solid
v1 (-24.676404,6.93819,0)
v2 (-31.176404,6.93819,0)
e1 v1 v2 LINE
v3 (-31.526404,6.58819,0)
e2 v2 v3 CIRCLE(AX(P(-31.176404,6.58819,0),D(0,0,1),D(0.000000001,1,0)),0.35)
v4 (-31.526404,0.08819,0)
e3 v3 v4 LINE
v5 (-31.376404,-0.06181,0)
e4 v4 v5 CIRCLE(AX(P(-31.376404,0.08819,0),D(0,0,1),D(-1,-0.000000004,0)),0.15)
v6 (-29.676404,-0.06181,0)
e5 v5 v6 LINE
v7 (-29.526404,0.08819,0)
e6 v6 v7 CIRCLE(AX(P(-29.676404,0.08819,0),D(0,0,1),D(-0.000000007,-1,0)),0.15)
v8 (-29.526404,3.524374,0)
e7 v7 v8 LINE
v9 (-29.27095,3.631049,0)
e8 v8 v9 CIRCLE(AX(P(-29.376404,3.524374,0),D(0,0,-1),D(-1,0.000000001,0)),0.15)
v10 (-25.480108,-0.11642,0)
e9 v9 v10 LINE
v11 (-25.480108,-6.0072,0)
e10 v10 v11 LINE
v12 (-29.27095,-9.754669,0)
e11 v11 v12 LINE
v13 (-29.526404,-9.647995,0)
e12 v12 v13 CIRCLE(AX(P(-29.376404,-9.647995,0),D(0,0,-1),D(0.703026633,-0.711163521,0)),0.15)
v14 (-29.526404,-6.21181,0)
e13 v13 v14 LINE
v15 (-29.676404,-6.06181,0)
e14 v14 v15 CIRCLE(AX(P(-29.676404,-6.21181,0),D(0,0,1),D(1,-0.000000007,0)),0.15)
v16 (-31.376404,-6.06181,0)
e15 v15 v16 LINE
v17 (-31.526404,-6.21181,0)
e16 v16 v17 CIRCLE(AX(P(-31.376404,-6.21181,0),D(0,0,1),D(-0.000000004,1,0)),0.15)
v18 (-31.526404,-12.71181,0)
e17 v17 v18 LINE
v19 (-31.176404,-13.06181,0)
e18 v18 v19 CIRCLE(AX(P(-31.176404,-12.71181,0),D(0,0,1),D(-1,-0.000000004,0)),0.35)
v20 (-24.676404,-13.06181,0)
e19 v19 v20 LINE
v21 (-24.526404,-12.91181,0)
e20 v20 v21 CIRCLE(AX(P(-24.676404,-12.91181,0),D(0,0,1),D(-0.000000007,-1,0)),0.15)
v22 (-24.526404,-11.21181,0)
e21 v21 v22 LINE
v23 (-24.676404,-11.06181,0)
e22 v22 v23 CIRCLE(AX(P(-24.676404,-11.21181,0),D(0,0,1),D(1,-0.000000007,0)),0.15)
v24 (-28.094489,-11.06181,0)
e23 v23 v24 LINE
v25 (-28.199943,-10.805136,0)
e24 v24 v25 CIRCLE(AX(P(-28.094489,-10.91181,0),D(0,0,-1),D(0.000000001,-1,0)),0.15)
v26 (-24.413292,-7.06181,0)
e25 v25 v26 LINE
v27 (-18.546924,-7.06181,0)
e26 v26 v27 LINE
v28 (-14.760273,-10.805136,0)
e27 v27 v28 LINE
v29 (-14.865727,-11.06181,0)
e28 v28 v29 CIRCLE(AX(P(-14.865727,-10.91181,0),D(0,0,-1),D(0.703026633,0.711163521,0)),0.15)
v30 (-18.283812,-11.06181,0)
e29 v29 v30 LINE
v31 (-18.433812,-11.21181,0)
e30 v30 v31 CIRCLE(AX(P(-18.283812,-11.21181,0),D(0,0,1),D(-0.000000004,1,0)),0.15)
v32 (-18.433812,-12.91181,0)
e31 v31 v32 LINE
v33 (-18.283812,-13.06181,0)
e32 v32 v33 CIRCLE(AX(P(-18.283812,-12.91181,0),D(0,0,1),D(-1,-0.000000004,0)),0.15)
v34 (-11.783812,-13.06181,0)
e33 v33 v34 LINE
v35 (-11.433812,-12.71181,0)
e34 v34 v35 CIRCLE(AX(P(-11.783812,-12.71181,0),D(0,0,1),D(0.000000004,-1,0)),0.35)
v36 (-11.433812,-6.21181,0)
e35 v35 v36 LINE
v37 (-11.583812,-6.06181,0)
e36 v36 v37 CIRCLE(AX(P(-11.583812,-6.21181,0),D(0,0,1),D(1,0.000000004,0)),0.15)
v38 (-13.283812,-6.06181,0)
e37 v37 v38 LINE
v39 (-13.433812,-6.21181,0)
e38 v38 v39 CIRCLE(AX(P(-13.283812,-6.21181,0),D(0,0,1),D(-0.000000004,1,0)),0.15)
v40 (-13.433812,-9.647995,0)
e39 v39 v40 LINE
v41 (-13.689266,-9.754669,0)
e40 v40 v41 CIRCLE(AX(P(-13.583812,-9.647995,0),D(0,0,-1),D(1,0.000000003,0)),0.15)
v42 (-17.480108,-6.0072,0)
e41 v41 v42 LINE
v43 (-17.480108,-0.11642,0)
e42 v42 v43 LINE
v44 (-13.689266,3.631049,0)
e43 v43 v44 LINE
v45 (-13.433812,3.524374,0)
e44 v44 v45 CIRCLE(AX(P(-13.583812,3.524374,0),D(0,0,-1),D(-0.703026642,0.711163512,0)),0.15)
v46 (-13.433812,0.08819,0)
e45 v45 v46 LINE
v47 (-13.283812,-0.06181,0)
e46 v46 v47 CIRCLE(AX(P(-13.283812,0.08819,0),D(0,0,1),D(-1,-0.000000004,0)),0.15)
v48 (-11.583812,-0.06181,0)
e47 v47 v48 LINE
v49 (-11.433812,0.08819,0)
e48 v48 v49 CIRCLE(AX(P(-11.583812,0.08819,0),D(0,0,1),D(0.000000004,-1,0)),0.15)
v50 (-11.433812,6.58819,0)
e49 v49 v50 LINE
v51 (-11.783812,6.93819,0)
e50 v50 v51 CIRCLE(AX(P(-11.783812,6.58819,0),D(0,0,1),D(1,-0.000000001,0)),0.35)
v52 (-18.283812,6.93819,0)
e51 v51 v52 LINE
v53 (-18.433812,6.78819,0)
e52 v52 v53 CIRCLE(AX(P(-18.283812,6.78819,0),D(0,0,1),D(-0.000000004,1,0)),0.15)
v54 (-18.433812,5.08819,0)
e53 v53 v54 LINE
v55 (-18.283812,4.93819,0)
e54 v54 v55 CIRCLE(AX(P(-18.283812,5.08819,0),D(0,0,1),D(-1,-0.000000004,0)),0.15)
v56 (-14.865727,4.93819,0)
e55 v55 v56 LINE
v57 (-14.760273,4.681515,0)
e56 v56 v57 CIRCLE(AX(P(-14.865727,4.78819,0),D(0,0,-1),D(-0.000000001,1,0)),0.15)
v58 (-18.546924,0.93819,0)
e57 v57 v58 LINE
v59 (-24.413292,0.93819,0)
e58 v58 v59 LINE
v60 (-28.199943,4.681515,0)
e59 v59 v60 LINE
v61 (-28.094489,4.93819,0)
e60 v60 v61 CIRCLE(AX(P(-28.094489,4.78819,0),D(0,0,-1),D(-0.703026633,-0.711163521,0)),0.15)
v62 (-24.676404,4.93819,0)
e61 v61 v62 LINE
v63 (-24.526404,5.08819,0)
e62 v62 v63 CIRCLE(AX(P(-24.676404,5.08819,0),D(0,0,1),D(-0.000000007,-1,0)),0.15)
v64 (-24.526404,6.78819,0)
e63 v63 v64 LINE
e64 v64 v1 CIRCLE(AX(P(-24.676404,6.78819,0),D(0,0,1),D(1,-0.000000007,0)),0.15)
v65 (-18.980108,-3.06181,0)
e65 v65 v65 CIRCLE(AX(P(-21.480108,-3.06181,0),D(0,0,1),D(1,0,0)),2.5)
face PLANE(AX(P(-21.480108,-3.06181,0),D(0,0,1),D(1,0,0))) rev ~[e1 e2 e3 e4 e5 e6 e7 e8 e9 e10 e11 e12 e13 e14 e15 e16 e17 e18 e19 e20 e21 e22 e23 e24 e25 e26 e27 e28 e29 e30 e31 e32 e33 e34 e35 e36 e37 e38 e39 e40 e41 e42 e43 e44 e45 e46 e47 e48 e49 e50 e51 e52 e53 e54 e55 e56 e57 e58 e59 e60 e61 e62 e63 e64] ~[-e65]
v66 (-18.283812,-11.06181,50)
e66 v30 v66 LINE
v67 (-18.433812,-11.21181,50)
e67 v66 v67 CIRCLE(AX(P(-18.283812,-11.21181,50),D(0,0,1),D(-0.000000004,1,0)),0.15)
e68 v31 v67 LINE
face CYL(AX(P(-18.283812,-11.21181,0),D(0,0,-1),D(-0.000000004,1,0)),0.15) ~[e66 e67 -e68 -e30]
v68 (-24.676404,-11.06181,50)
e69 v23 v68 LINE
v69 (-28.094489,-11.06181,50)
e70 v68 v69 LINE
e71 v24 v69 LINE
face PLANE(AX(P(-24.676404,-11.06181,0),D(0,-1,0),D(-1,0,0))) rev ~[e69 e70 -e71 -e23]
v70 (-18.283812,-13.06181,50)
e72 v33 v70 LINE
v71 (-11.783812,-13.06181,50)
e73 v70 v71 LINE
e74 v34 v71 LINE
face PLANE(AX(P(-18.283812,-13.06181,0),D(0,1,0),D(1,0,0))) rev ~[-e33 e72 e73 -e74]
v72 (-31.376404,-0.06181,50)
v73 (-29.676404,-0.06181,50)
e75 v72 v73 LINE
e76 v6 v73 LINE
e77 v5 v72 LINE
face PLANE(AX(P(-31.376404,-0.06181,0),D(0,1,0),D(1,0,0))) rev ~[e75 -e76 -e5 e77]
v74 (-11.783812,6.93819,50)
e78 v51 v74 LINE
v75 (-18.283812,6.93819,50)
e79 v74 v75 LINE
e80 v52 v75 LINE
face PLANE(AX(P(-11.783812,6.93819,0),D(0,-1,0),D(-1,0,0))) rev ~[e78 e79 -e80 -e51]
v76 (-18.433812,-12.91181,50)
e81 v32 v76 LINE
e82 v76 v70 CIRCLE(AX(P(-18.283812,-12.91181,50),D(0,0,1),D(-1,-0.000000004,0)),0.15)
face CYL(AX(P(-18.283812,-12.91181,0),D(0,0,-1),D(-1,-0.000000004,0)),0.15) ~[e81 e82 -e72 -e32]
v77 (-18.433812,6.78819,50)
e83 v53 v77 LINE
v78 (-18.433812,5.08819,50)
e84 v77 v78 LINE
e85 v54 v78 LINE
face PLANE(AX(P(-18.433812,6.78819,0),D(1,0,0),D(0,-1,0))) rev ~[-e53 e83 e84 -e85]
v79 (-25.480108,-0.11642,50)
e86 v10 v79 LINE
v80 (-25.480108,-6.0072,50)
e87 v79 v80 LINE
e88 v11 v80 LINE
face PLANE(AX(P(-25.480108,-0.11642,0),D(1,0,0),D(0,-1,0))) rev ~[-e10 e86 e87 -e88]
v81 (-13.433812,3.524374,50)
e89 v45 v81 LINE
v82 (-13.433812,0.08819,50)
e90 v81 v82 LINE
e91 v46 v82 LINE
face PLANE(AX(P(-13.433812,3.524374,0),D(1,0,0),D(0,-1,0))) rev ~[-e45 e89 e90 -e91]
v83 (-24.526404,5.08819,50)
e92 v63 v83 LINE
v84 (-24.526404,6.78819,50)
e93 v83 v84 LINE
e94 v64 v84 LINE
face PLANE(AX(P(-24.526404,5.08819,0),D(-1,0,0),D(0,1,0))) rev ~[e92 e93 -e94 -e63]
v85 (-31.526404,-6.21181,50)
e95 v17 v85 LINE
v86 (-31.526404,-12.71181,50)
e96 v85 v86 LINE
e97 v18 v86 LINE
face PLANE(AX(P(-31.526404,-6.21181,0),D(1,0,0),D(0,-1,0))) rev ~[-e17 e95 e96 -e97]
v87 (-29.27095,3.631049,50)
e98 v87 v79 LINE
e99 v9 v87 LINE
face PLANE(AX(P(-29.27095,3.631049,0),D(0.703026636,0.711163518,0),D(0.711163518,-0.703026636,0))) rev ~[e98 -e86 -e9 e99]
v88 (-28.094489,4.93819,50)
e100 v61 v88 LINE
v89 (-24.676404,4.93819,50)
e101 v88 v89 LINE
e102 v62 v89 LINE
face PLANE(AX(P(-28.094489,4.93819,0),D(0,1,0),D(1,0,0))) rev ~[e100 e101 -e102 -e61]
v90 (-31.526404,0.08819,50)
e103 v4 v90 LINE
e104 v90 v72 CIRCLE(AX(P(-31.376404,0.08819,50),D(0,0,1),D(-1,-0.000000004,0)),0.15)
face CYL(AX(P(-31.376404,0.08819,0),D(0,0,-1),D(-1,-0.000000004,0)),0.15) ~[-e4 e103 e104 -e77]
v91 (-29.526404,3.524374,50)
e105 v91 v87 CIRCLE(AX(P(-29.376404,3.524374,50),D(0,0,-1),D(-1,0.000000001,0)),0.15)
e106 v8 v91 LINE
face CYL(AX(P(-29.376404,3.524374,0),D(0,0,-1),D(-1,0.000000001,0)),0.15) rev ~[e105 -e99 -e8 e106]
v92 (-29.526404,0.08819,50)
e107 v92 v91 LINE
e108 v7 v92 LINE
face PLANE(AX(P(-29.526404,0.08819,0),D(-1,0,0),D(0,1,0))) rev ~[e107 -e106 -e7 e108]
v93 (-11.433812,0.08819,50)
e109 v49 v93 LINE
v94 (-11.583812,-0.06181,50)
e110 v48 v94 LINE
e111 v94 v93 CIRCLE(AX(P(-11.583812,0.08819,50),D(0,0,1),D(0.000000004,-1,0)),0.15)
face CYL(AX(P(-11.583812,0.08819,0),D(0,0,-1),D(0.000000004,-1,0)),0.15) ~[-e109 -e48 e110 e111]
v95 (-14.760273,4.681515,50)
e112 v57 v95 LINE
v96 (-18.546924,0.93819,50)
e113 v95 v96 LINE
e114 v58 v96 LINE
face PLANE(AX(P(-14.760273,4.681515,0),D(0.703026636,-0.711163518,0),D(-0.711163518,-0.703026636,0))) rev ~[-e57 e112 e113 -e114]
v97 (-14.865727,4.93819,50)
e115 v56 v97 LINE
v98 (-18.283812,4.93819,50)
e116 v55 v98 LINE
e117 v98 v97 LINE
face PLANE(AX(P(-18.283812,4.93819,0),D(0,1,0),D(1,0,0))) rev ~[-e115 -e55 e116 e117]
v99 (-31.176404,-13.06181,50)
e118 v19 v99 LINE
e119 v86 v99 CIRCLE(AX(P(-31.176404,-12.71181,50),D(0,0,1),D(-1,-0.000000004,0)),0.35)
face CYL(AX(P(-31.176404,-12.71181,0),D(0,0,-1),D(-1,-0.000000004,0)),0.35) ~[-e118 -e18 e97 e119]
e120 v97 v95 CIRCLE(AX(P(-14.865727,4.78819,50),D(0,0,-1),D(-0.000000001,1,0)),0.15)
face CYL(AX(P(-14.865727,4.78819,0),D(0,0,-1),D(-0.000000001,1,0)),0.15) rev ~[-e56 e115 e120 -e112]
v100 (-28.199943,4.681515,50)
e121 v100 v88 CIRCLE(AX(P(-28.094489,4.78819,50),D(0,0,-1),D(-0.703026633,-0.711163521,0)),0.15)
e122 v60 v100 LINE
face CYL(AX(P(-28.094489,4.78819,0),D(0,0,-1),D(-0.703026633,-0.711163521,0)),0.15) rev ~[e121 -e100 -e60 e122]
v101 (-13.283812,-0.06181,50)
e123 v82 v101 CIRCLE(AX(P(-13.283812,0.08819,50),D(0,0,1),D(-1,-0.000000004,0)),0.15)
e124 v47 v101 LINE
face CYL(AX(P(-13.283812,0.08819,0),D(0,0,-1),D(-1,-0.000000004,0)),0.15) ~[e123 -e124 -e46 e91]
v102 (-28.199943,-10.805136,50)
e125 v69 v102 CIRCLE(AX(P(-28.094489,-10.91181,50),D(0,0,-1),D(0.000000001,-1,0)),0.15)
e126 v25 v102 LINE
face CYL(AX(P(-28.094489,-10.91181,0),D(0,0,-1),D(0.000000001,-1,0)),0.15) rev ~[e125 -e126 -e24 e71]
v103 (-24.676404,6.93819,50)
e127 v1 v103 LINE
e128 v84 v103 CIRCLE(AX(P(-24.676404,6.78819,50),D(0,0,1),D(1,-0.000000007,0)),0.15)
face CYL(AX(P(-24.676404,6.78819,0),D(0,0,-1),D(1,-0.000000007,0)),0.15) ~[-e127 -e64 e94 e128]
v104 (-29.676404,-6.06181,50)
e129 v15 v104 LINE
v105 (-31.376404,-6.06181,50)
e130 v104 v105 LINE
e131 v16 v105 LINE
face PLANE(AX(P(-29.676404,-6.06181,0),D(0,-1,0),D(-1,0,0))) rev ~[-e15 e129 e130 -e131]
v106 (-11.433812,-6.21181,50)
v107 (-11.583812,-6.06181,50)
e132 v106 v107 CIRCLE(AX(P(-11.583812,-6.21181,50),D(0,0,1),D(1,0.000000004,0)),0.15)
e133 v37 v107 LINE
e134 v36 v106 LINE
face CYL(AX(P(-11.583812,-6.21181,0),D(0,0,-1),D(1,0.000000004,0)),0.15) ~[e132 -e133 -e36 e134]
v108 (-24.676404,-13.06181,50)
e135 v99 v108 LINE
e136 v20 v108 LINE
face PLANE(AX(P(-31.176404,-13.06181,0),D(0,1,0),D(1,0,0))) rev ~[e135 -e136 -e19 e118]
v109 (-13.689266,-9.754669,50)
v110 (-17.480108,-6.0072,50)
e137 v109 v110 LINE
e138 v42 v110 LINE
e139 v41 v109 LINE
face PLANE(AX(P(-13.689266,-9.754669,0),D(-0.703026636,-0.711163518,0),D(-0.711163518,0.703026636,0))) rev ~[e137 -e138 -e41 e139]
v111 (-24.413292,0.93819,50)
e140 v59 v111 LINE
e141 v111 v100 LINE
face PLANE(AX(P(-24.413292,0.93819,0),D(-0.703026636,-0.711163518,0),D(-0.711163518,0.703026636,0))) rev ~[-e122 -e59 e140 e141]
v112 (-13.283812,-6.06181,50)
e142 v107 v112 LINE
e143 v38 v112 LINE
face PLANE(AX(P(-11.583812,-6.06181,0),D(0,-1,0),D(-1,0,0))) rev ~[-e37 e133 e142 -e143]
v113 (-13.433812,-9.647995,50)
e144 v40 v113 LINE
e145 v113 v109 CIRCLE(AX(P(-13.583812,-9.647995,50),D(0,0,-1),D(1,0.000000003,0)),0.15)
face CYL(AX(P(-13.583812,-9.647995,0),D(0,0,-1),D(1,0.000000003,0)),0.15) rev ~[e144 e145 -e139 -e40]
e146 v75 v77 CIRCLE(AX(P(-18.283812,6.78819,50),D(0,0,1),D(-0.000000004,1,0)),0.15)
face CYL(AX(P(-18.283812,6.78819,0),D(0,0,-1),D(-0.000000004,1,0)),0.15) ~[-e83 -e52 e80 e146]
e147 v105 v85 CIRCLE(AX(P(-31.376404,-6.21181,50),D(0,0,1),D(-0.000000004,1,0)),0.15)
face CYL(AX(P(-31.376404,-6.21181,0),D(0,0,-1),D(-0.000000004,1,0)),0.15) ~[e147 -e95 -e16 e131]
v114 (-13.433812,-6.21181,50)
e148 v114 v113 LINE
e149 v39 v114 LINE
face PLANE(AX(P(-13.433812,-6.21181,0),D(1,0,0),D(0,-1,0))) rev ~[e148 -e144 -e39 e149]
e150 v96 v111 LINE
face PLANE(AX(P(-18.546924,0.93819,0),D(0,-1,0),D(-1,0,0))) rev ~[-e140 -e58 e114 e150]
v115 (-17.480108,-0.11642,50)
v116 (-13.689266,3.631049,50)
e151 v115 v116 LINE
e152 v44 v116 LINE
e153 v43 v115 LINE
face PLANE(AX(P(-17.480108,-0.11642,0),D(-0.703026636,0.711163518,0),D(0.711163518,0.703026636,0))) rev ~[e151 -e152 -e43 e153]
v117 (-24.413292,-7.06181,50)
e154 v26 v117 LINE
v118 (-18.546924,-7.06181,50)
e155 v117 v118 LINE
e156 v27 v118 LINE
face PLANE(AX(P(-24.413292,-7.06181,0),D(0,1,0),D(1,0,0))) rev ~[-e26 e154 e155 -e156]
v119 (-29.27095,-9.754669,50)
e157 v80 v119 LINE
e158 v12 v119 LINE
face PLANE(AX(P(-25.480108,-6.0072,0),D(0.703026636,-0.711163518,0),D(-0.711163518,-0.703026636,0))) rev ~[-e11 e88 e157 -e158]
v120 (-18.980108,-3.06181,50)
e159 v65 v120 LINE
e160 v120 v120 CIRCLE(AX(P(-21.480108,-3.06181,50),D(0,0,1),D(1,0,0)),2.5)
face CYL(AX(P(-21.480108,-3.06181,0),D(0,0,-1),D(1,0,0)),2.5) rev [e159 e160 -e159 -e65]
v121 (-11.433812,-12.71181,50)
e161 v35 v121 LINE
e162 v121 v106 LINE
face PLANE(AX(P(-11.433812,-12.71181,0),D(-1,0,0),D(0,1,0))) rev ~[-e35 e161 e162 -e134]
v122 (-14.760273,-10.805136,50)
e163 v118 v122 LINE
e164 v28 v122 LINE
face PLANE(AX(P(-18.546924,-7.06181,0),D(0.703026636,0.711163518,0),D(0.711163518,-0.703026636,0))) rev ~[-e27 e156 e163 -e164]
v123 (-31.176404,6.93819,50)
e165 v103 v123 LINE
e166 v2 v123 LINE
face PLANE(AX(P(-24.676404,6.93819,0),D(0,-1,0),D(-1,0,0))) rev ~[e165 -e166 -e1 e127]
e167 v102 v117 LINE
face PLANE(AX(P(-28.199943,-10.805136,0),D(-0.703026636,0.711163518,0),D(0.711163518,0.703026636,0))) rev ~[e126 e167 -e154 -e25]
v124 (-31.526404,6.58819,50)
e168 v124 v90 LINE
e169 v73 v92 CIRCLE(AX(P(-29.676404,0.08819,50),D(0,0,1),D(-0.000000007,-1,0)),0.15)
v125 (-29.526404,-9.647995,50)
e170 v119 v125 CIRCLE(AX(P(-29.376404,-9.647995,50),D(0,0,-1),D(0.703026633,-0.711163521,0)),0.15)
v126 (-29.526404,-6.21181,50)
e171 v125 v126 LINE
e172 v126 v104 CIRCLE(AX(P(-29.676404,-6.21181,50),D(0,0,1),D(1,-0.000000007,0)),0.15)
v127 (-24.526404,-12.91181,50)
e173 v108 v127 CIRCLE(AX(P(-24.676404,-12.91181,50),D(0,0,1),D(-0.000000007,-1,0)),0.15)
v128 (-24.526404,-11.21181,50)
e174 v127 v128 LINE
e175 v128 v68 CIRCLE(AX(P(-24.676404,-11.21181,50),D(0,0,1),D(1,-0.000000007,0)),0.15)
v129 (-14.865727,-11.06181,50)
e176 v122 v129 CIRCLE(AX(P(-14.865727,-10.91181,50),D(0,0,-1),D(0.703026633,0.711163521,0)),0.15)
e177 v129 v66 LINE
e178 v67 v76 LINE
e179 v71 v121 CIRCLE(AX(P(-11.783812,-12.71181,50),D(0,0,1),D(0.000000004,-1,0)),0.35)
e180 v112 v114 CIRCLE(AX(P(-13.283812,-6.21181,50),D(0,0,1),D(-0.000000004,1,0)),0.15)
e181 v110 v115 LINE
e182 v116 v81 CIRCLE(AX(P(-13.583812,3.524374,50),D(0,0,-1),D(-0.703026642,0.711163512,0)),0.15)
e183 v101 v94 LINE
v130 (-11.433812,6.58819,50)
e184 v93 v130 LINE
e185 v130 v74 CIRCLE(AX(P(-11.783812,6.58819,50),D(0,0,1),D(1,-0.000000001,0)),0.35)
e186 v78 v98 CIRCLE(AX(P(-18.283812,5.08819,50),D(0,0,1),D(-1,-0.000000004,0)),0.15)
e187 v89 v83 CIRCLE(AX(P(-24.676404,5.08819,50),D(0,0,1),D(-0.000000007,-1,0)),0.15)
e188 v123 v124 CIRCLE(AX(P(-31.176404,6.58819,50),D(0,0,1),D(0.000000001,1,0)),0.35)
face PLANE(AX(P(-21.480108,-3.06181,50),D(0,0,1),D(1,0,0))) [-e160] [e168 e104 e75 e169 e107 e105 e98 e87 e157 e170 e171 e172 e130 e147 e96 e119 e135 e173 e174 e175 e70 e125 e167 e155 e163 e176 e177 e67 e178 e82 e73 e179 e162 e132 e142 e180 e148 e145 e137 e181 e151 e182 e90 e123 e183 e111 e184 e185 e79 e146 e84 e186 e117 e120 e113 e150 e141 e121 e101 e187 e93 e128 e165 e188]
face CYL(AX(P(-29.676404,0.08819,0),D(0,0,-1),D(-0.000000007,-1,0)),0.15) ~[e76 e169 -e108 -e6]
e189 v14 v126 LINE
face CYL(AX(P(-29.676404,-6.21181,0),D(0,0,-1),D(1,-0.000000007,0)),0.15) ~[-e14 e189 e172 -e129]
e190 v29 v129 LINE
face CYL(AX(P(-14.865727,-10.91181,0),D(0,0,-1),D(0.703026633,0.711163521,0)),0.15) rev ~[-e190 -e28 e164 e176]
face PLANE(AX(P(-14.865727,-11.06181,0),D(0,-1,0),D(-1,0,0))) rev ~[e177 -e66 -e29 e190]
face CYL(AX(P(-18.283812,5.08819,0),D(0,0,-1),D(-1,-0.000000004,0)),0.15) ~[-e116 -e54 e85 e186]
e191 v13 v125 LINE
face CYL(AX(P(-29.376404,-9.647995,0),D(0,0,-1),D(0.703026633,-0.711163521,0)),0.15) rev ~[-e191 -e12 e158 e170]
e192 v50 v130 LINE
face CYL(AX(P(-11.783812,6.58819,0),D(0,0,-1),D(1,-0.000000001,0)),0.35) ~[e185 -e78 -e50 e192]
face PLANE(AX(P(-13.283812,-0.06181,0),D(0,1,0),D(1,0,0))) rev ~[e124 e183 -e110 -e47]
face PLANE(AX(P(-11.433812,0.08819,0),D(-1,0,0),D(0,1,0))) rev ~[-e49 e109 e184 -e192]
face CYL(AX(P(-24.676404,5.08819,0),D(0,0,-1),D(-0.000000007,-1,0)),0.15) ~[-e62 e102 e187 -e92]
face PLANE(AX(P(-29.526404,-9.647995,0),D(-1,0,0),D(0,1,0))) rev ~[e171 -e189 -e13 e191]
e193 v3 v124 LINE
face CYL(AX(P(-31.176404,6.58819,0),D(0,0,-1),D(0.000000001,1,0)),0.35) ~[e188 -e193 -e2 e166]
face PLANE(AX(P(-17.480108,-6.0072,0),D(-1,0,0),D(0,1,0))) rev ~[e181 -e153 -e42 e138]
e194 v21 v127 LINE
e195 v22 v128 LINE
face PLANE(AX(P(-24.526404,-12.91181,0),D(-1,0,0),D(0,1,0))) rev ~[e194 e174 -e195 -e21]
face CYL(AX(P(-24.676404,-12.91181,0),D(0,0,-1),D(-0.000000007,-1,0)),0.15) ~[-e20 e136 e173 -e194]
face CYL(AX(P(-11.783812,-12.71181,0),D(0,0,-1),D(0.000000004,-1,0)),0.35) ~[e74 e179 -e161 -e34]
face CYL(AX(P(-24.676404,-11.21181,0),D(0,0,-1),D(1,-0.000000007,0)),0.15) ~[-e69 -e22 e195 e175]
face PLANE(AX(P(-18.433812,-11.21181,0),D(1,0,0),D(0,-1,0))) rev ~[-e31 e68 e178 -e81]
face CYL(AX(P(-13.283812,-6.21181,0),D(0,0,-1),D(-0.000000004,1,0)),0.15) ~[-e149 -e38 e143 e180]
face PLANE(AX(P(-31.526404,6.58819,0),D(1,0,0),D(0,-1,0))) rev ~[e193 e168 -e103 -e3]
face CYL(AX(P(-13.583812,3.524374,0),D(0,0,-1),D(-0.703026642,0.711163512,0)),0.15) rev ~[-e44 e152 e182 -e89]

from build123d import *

# Parameters (mm, degrees)
SKETCH1_R           = 2.5
BOSS_EXTRUDE1_DEPTH = 50


with BuildPart() as part:
    # Sketch1 → Boss-Extrude1 (new body)
    with BuildSketch(Plane.XY):
        with BuildLine():
            Line((-31.376404226, -0.06181021), (-29.676404226, -0.06181021))
            ThreePointArc((-29.676404226, -0.06181021), (-29.570338208, -0.017876227), (-29.526404226, 0.08818979))
            Line((-29.526404226, 0.08818979), (-29.526404226, 3.524374304))
            ThreePointArc((-29.526404226, 3.524374304), (-29.43420518, 3.662790523), (-29.27095023, 3.631048831))
            Line((-29.27095023, 3.631048831), (-25.480107929, -0.116419988))
            Line((-25.480107929, -0.116419988), (-25.480107929, -6.007200432))
            Line((-25.480107929, -6.007200432), (-29.27095023, -9.754669251))
            ThreePointArc((-29.27095023, -9.754669251), (-29.43420518, -9.786410942), (-29.526404226, -9.647994723))
            Line((-29.526404226, -9.647994723), (-29.526404226, -6.21181021))
            ThreePointArc((-29.526404226, -6.21181021), (-29.570338208, -6.105744193), (-29.676404226, -6.06181021))
            Line((-29.676404226, -6.06181021), (-31.376404226, -6.06181021))
            ThreePointArc((-31.376404226, -6.06181021), (-31.482470243, -6.105744193), (-31.526404226, -6.21181021))
            Line((-31.526404226, -6.21181021), (-31.526404226, -12.71181021))
            ThreePointArc((-31.526404226, -12.71181021), (-31.423891599, -12.959297583), (-31.176404226, -13.06181021))
            Line((-31.176404226, -13.06181021), (-24.676404226, -13.06181021))
            ThreePointArc((-24.676404226, -13.06181021), (-24.570338208, -13.017876227), (-24.526404226, -12.91181021))
            Line((-24.526404226, -12.91181021), (-24.526404226, -11.21181021))
            ThreePointArc((-24.526404226, -11.21181021), (-24.570338208, -11.105744193), (-24.676404226, -11.06181021))
            Line((-24.676404226, -11.06181021), (-28.094489023, -11.06181021))
            ThreePointArc((-28.094489023, -11.06181021), (-28.233235517, -10.96881381), (-28.199943018, -10.805135682))
            Line((-28.199943018, -10.805135682), (-24.41329202, -7.06181021))
            Line((-24.41329202, -7.06181021), (-18.546923839, -7.06181021))
            Line((-18.546923839, -7.06181021), (-14.760272841, -10.805135682))
            ThreePointArc((-14.760272841, -10.805135682), (-14.726980342, -10.96881381), (-14.865726836, -11.06181021))
            Line((-14.865726836, -11.06181021), (-18.283811633, -11.06181021))
            ThreePointArc((-18.283811633, -11.06181021), (-18.38987765, -11.105744193), (-18.433811633, -11.21181021))
            Line((-18.433811633, -11.21181021), (-18.433811633, -12.91181021))
            ThreePointArc((-18.433811633, -12.91181021), (-18.38987765, -13.017876227), (-18.283811633, -13.06181021))
            Line((-18.283811633, -13.06181021), (-11.783811633, -13.06181021))
            ThreePointArc((-11.783811633, -13.06181021), (-11.53632426, -12.959297583), (-11.433811633, -12.71181021))
            Line((-11.433811633, -12.71181021), (-11.433811633, -6.21181021))
            ThreePointArc((-11.433811633, -6.21181021), (-11.477745616, -6.105744193), (-11.583811633, -6.06181021))
            Line((-11.583811633, -6.06181021), (-13.283811633, -6.06181021))
            ThreePointArc((-13.283811633, -6.06181021), (-13.38987765, -6.105744193), (-13.433811633, -6.21181021))
            Line((-13.433811633, -6.21181021), (-13.433811633, -9.647994723))
            ThreePointArc((-13.433811633, -9.647994723), (-13.526010678, -9.786410942), (-13.689265628, -9.754669251))
            Line((-13.689265628, -9.754669251), (-17.480107929, -6.007200432))
            Line((-17.480107929, -6.007200432), (-17.480107929, -0.116419988))
            Line((-17.480107929, -0.116419988), (-13.689265628, 3.631048831))
            ThreePointArc((-13.689265628, 3.631048831), (-13.526010678, 3.662790523), (-13.433811633, 3.524374304))
            Line((-13.433811633, 3.524374304), (-13.433811633, 0.08818979))
            ThreePointArc((-13.433811633, 0.08818979), (-13.38987765, -0.017876227), (-13.283811633, -0.06181021))
            Line((-13.283811633, -0.06181021), (-11.583811633, -0.06181021))
            ThreePointArc((-11.583811633, -0.06181021), (-11.477745616, -0.017876227), (-11.433811633, 0.08818979))
            Line((-11.433811633, 0.08818979), (-11.433811633, 6.58818979))
            ThreePointArc((-11.433811633, 6.58818979), (-11.53632426, 6.835677164), (-11.783811633, 6.93818979))
            Line((-11.783811633, 6.93818979), (-18.283811633, 6.93818979))
            ThreePointArc((-18.283811633, 6.93818979), (-18.38987765, 6.894255807), (-18.433811633, 6.78818979))
            Line((-18.433811633, 6.78818979), (-18.433811633, 5.08818979))
            ThreePointArc((-18.433811633, 5.08818979), (-18.38987765, 4.982123773), (-18.283811633, 4.93818979))
            Line((-18.283811633, 4.93818979), (-14.865726836, 4.93818979))
            ThreePointArc((-14.865726836, 4.93818979), (-14.726980342, 4.84519339), (-14.760272841, 4.681515262))
            Line((-14.760272841, 4.681515262), (-18.546923839, 0.93818979))
            Line((-18.546923839, 0.93818979), (-24.41329202, 0.93818979))
            Line((-24.41329202, 0.93818979), (-28.199943018, 4.681515262))
            ThreePointArc((-28.199943018, 4.681515262), (-28.233235517, 4.84519339), (-28.094489023, 4.93818979))
            Line((-28.094489023, 4.93818979), (-24.676404226, 4.93818979))
            ThreePointArc((-24.676404226, 4.93818979), (-24.570338208, 4.982123773), (-24.526404226, 5.08818979))
            Line((-24.526404226, 5.08818979), (-24.526404226, 6.78818979))
            ThreePointArc((-24.526404226, 6.78818979), (-24.570338208, 6.894255807), (-24.676404226, 6.93818979))
            Line((-24.676404226, 6.93818979), (-31.176404226, 6.93818979))
            ThreePointArc((-31.176404226, 6.93818979), (-31.423891599, 6.835677164), (-31.526404226, 6.58818979))
            Line((-31.526404226, 6.58818979), (-31.526404226, 0.08818979))
            ThreePointArc((-31.526404226, 0.08818979), (-31.482470243, -0.017876227), (-31.376404226, -0.06181021))
        make_face()
        with Locations((-21.480107929, -3.06181021)):
            Circle(SKETCH1_R, mode=Mode.SUBTRACT)
    extrude(amount=BOSS_EXTRUDE1_DEPTH)


solid = part.part
